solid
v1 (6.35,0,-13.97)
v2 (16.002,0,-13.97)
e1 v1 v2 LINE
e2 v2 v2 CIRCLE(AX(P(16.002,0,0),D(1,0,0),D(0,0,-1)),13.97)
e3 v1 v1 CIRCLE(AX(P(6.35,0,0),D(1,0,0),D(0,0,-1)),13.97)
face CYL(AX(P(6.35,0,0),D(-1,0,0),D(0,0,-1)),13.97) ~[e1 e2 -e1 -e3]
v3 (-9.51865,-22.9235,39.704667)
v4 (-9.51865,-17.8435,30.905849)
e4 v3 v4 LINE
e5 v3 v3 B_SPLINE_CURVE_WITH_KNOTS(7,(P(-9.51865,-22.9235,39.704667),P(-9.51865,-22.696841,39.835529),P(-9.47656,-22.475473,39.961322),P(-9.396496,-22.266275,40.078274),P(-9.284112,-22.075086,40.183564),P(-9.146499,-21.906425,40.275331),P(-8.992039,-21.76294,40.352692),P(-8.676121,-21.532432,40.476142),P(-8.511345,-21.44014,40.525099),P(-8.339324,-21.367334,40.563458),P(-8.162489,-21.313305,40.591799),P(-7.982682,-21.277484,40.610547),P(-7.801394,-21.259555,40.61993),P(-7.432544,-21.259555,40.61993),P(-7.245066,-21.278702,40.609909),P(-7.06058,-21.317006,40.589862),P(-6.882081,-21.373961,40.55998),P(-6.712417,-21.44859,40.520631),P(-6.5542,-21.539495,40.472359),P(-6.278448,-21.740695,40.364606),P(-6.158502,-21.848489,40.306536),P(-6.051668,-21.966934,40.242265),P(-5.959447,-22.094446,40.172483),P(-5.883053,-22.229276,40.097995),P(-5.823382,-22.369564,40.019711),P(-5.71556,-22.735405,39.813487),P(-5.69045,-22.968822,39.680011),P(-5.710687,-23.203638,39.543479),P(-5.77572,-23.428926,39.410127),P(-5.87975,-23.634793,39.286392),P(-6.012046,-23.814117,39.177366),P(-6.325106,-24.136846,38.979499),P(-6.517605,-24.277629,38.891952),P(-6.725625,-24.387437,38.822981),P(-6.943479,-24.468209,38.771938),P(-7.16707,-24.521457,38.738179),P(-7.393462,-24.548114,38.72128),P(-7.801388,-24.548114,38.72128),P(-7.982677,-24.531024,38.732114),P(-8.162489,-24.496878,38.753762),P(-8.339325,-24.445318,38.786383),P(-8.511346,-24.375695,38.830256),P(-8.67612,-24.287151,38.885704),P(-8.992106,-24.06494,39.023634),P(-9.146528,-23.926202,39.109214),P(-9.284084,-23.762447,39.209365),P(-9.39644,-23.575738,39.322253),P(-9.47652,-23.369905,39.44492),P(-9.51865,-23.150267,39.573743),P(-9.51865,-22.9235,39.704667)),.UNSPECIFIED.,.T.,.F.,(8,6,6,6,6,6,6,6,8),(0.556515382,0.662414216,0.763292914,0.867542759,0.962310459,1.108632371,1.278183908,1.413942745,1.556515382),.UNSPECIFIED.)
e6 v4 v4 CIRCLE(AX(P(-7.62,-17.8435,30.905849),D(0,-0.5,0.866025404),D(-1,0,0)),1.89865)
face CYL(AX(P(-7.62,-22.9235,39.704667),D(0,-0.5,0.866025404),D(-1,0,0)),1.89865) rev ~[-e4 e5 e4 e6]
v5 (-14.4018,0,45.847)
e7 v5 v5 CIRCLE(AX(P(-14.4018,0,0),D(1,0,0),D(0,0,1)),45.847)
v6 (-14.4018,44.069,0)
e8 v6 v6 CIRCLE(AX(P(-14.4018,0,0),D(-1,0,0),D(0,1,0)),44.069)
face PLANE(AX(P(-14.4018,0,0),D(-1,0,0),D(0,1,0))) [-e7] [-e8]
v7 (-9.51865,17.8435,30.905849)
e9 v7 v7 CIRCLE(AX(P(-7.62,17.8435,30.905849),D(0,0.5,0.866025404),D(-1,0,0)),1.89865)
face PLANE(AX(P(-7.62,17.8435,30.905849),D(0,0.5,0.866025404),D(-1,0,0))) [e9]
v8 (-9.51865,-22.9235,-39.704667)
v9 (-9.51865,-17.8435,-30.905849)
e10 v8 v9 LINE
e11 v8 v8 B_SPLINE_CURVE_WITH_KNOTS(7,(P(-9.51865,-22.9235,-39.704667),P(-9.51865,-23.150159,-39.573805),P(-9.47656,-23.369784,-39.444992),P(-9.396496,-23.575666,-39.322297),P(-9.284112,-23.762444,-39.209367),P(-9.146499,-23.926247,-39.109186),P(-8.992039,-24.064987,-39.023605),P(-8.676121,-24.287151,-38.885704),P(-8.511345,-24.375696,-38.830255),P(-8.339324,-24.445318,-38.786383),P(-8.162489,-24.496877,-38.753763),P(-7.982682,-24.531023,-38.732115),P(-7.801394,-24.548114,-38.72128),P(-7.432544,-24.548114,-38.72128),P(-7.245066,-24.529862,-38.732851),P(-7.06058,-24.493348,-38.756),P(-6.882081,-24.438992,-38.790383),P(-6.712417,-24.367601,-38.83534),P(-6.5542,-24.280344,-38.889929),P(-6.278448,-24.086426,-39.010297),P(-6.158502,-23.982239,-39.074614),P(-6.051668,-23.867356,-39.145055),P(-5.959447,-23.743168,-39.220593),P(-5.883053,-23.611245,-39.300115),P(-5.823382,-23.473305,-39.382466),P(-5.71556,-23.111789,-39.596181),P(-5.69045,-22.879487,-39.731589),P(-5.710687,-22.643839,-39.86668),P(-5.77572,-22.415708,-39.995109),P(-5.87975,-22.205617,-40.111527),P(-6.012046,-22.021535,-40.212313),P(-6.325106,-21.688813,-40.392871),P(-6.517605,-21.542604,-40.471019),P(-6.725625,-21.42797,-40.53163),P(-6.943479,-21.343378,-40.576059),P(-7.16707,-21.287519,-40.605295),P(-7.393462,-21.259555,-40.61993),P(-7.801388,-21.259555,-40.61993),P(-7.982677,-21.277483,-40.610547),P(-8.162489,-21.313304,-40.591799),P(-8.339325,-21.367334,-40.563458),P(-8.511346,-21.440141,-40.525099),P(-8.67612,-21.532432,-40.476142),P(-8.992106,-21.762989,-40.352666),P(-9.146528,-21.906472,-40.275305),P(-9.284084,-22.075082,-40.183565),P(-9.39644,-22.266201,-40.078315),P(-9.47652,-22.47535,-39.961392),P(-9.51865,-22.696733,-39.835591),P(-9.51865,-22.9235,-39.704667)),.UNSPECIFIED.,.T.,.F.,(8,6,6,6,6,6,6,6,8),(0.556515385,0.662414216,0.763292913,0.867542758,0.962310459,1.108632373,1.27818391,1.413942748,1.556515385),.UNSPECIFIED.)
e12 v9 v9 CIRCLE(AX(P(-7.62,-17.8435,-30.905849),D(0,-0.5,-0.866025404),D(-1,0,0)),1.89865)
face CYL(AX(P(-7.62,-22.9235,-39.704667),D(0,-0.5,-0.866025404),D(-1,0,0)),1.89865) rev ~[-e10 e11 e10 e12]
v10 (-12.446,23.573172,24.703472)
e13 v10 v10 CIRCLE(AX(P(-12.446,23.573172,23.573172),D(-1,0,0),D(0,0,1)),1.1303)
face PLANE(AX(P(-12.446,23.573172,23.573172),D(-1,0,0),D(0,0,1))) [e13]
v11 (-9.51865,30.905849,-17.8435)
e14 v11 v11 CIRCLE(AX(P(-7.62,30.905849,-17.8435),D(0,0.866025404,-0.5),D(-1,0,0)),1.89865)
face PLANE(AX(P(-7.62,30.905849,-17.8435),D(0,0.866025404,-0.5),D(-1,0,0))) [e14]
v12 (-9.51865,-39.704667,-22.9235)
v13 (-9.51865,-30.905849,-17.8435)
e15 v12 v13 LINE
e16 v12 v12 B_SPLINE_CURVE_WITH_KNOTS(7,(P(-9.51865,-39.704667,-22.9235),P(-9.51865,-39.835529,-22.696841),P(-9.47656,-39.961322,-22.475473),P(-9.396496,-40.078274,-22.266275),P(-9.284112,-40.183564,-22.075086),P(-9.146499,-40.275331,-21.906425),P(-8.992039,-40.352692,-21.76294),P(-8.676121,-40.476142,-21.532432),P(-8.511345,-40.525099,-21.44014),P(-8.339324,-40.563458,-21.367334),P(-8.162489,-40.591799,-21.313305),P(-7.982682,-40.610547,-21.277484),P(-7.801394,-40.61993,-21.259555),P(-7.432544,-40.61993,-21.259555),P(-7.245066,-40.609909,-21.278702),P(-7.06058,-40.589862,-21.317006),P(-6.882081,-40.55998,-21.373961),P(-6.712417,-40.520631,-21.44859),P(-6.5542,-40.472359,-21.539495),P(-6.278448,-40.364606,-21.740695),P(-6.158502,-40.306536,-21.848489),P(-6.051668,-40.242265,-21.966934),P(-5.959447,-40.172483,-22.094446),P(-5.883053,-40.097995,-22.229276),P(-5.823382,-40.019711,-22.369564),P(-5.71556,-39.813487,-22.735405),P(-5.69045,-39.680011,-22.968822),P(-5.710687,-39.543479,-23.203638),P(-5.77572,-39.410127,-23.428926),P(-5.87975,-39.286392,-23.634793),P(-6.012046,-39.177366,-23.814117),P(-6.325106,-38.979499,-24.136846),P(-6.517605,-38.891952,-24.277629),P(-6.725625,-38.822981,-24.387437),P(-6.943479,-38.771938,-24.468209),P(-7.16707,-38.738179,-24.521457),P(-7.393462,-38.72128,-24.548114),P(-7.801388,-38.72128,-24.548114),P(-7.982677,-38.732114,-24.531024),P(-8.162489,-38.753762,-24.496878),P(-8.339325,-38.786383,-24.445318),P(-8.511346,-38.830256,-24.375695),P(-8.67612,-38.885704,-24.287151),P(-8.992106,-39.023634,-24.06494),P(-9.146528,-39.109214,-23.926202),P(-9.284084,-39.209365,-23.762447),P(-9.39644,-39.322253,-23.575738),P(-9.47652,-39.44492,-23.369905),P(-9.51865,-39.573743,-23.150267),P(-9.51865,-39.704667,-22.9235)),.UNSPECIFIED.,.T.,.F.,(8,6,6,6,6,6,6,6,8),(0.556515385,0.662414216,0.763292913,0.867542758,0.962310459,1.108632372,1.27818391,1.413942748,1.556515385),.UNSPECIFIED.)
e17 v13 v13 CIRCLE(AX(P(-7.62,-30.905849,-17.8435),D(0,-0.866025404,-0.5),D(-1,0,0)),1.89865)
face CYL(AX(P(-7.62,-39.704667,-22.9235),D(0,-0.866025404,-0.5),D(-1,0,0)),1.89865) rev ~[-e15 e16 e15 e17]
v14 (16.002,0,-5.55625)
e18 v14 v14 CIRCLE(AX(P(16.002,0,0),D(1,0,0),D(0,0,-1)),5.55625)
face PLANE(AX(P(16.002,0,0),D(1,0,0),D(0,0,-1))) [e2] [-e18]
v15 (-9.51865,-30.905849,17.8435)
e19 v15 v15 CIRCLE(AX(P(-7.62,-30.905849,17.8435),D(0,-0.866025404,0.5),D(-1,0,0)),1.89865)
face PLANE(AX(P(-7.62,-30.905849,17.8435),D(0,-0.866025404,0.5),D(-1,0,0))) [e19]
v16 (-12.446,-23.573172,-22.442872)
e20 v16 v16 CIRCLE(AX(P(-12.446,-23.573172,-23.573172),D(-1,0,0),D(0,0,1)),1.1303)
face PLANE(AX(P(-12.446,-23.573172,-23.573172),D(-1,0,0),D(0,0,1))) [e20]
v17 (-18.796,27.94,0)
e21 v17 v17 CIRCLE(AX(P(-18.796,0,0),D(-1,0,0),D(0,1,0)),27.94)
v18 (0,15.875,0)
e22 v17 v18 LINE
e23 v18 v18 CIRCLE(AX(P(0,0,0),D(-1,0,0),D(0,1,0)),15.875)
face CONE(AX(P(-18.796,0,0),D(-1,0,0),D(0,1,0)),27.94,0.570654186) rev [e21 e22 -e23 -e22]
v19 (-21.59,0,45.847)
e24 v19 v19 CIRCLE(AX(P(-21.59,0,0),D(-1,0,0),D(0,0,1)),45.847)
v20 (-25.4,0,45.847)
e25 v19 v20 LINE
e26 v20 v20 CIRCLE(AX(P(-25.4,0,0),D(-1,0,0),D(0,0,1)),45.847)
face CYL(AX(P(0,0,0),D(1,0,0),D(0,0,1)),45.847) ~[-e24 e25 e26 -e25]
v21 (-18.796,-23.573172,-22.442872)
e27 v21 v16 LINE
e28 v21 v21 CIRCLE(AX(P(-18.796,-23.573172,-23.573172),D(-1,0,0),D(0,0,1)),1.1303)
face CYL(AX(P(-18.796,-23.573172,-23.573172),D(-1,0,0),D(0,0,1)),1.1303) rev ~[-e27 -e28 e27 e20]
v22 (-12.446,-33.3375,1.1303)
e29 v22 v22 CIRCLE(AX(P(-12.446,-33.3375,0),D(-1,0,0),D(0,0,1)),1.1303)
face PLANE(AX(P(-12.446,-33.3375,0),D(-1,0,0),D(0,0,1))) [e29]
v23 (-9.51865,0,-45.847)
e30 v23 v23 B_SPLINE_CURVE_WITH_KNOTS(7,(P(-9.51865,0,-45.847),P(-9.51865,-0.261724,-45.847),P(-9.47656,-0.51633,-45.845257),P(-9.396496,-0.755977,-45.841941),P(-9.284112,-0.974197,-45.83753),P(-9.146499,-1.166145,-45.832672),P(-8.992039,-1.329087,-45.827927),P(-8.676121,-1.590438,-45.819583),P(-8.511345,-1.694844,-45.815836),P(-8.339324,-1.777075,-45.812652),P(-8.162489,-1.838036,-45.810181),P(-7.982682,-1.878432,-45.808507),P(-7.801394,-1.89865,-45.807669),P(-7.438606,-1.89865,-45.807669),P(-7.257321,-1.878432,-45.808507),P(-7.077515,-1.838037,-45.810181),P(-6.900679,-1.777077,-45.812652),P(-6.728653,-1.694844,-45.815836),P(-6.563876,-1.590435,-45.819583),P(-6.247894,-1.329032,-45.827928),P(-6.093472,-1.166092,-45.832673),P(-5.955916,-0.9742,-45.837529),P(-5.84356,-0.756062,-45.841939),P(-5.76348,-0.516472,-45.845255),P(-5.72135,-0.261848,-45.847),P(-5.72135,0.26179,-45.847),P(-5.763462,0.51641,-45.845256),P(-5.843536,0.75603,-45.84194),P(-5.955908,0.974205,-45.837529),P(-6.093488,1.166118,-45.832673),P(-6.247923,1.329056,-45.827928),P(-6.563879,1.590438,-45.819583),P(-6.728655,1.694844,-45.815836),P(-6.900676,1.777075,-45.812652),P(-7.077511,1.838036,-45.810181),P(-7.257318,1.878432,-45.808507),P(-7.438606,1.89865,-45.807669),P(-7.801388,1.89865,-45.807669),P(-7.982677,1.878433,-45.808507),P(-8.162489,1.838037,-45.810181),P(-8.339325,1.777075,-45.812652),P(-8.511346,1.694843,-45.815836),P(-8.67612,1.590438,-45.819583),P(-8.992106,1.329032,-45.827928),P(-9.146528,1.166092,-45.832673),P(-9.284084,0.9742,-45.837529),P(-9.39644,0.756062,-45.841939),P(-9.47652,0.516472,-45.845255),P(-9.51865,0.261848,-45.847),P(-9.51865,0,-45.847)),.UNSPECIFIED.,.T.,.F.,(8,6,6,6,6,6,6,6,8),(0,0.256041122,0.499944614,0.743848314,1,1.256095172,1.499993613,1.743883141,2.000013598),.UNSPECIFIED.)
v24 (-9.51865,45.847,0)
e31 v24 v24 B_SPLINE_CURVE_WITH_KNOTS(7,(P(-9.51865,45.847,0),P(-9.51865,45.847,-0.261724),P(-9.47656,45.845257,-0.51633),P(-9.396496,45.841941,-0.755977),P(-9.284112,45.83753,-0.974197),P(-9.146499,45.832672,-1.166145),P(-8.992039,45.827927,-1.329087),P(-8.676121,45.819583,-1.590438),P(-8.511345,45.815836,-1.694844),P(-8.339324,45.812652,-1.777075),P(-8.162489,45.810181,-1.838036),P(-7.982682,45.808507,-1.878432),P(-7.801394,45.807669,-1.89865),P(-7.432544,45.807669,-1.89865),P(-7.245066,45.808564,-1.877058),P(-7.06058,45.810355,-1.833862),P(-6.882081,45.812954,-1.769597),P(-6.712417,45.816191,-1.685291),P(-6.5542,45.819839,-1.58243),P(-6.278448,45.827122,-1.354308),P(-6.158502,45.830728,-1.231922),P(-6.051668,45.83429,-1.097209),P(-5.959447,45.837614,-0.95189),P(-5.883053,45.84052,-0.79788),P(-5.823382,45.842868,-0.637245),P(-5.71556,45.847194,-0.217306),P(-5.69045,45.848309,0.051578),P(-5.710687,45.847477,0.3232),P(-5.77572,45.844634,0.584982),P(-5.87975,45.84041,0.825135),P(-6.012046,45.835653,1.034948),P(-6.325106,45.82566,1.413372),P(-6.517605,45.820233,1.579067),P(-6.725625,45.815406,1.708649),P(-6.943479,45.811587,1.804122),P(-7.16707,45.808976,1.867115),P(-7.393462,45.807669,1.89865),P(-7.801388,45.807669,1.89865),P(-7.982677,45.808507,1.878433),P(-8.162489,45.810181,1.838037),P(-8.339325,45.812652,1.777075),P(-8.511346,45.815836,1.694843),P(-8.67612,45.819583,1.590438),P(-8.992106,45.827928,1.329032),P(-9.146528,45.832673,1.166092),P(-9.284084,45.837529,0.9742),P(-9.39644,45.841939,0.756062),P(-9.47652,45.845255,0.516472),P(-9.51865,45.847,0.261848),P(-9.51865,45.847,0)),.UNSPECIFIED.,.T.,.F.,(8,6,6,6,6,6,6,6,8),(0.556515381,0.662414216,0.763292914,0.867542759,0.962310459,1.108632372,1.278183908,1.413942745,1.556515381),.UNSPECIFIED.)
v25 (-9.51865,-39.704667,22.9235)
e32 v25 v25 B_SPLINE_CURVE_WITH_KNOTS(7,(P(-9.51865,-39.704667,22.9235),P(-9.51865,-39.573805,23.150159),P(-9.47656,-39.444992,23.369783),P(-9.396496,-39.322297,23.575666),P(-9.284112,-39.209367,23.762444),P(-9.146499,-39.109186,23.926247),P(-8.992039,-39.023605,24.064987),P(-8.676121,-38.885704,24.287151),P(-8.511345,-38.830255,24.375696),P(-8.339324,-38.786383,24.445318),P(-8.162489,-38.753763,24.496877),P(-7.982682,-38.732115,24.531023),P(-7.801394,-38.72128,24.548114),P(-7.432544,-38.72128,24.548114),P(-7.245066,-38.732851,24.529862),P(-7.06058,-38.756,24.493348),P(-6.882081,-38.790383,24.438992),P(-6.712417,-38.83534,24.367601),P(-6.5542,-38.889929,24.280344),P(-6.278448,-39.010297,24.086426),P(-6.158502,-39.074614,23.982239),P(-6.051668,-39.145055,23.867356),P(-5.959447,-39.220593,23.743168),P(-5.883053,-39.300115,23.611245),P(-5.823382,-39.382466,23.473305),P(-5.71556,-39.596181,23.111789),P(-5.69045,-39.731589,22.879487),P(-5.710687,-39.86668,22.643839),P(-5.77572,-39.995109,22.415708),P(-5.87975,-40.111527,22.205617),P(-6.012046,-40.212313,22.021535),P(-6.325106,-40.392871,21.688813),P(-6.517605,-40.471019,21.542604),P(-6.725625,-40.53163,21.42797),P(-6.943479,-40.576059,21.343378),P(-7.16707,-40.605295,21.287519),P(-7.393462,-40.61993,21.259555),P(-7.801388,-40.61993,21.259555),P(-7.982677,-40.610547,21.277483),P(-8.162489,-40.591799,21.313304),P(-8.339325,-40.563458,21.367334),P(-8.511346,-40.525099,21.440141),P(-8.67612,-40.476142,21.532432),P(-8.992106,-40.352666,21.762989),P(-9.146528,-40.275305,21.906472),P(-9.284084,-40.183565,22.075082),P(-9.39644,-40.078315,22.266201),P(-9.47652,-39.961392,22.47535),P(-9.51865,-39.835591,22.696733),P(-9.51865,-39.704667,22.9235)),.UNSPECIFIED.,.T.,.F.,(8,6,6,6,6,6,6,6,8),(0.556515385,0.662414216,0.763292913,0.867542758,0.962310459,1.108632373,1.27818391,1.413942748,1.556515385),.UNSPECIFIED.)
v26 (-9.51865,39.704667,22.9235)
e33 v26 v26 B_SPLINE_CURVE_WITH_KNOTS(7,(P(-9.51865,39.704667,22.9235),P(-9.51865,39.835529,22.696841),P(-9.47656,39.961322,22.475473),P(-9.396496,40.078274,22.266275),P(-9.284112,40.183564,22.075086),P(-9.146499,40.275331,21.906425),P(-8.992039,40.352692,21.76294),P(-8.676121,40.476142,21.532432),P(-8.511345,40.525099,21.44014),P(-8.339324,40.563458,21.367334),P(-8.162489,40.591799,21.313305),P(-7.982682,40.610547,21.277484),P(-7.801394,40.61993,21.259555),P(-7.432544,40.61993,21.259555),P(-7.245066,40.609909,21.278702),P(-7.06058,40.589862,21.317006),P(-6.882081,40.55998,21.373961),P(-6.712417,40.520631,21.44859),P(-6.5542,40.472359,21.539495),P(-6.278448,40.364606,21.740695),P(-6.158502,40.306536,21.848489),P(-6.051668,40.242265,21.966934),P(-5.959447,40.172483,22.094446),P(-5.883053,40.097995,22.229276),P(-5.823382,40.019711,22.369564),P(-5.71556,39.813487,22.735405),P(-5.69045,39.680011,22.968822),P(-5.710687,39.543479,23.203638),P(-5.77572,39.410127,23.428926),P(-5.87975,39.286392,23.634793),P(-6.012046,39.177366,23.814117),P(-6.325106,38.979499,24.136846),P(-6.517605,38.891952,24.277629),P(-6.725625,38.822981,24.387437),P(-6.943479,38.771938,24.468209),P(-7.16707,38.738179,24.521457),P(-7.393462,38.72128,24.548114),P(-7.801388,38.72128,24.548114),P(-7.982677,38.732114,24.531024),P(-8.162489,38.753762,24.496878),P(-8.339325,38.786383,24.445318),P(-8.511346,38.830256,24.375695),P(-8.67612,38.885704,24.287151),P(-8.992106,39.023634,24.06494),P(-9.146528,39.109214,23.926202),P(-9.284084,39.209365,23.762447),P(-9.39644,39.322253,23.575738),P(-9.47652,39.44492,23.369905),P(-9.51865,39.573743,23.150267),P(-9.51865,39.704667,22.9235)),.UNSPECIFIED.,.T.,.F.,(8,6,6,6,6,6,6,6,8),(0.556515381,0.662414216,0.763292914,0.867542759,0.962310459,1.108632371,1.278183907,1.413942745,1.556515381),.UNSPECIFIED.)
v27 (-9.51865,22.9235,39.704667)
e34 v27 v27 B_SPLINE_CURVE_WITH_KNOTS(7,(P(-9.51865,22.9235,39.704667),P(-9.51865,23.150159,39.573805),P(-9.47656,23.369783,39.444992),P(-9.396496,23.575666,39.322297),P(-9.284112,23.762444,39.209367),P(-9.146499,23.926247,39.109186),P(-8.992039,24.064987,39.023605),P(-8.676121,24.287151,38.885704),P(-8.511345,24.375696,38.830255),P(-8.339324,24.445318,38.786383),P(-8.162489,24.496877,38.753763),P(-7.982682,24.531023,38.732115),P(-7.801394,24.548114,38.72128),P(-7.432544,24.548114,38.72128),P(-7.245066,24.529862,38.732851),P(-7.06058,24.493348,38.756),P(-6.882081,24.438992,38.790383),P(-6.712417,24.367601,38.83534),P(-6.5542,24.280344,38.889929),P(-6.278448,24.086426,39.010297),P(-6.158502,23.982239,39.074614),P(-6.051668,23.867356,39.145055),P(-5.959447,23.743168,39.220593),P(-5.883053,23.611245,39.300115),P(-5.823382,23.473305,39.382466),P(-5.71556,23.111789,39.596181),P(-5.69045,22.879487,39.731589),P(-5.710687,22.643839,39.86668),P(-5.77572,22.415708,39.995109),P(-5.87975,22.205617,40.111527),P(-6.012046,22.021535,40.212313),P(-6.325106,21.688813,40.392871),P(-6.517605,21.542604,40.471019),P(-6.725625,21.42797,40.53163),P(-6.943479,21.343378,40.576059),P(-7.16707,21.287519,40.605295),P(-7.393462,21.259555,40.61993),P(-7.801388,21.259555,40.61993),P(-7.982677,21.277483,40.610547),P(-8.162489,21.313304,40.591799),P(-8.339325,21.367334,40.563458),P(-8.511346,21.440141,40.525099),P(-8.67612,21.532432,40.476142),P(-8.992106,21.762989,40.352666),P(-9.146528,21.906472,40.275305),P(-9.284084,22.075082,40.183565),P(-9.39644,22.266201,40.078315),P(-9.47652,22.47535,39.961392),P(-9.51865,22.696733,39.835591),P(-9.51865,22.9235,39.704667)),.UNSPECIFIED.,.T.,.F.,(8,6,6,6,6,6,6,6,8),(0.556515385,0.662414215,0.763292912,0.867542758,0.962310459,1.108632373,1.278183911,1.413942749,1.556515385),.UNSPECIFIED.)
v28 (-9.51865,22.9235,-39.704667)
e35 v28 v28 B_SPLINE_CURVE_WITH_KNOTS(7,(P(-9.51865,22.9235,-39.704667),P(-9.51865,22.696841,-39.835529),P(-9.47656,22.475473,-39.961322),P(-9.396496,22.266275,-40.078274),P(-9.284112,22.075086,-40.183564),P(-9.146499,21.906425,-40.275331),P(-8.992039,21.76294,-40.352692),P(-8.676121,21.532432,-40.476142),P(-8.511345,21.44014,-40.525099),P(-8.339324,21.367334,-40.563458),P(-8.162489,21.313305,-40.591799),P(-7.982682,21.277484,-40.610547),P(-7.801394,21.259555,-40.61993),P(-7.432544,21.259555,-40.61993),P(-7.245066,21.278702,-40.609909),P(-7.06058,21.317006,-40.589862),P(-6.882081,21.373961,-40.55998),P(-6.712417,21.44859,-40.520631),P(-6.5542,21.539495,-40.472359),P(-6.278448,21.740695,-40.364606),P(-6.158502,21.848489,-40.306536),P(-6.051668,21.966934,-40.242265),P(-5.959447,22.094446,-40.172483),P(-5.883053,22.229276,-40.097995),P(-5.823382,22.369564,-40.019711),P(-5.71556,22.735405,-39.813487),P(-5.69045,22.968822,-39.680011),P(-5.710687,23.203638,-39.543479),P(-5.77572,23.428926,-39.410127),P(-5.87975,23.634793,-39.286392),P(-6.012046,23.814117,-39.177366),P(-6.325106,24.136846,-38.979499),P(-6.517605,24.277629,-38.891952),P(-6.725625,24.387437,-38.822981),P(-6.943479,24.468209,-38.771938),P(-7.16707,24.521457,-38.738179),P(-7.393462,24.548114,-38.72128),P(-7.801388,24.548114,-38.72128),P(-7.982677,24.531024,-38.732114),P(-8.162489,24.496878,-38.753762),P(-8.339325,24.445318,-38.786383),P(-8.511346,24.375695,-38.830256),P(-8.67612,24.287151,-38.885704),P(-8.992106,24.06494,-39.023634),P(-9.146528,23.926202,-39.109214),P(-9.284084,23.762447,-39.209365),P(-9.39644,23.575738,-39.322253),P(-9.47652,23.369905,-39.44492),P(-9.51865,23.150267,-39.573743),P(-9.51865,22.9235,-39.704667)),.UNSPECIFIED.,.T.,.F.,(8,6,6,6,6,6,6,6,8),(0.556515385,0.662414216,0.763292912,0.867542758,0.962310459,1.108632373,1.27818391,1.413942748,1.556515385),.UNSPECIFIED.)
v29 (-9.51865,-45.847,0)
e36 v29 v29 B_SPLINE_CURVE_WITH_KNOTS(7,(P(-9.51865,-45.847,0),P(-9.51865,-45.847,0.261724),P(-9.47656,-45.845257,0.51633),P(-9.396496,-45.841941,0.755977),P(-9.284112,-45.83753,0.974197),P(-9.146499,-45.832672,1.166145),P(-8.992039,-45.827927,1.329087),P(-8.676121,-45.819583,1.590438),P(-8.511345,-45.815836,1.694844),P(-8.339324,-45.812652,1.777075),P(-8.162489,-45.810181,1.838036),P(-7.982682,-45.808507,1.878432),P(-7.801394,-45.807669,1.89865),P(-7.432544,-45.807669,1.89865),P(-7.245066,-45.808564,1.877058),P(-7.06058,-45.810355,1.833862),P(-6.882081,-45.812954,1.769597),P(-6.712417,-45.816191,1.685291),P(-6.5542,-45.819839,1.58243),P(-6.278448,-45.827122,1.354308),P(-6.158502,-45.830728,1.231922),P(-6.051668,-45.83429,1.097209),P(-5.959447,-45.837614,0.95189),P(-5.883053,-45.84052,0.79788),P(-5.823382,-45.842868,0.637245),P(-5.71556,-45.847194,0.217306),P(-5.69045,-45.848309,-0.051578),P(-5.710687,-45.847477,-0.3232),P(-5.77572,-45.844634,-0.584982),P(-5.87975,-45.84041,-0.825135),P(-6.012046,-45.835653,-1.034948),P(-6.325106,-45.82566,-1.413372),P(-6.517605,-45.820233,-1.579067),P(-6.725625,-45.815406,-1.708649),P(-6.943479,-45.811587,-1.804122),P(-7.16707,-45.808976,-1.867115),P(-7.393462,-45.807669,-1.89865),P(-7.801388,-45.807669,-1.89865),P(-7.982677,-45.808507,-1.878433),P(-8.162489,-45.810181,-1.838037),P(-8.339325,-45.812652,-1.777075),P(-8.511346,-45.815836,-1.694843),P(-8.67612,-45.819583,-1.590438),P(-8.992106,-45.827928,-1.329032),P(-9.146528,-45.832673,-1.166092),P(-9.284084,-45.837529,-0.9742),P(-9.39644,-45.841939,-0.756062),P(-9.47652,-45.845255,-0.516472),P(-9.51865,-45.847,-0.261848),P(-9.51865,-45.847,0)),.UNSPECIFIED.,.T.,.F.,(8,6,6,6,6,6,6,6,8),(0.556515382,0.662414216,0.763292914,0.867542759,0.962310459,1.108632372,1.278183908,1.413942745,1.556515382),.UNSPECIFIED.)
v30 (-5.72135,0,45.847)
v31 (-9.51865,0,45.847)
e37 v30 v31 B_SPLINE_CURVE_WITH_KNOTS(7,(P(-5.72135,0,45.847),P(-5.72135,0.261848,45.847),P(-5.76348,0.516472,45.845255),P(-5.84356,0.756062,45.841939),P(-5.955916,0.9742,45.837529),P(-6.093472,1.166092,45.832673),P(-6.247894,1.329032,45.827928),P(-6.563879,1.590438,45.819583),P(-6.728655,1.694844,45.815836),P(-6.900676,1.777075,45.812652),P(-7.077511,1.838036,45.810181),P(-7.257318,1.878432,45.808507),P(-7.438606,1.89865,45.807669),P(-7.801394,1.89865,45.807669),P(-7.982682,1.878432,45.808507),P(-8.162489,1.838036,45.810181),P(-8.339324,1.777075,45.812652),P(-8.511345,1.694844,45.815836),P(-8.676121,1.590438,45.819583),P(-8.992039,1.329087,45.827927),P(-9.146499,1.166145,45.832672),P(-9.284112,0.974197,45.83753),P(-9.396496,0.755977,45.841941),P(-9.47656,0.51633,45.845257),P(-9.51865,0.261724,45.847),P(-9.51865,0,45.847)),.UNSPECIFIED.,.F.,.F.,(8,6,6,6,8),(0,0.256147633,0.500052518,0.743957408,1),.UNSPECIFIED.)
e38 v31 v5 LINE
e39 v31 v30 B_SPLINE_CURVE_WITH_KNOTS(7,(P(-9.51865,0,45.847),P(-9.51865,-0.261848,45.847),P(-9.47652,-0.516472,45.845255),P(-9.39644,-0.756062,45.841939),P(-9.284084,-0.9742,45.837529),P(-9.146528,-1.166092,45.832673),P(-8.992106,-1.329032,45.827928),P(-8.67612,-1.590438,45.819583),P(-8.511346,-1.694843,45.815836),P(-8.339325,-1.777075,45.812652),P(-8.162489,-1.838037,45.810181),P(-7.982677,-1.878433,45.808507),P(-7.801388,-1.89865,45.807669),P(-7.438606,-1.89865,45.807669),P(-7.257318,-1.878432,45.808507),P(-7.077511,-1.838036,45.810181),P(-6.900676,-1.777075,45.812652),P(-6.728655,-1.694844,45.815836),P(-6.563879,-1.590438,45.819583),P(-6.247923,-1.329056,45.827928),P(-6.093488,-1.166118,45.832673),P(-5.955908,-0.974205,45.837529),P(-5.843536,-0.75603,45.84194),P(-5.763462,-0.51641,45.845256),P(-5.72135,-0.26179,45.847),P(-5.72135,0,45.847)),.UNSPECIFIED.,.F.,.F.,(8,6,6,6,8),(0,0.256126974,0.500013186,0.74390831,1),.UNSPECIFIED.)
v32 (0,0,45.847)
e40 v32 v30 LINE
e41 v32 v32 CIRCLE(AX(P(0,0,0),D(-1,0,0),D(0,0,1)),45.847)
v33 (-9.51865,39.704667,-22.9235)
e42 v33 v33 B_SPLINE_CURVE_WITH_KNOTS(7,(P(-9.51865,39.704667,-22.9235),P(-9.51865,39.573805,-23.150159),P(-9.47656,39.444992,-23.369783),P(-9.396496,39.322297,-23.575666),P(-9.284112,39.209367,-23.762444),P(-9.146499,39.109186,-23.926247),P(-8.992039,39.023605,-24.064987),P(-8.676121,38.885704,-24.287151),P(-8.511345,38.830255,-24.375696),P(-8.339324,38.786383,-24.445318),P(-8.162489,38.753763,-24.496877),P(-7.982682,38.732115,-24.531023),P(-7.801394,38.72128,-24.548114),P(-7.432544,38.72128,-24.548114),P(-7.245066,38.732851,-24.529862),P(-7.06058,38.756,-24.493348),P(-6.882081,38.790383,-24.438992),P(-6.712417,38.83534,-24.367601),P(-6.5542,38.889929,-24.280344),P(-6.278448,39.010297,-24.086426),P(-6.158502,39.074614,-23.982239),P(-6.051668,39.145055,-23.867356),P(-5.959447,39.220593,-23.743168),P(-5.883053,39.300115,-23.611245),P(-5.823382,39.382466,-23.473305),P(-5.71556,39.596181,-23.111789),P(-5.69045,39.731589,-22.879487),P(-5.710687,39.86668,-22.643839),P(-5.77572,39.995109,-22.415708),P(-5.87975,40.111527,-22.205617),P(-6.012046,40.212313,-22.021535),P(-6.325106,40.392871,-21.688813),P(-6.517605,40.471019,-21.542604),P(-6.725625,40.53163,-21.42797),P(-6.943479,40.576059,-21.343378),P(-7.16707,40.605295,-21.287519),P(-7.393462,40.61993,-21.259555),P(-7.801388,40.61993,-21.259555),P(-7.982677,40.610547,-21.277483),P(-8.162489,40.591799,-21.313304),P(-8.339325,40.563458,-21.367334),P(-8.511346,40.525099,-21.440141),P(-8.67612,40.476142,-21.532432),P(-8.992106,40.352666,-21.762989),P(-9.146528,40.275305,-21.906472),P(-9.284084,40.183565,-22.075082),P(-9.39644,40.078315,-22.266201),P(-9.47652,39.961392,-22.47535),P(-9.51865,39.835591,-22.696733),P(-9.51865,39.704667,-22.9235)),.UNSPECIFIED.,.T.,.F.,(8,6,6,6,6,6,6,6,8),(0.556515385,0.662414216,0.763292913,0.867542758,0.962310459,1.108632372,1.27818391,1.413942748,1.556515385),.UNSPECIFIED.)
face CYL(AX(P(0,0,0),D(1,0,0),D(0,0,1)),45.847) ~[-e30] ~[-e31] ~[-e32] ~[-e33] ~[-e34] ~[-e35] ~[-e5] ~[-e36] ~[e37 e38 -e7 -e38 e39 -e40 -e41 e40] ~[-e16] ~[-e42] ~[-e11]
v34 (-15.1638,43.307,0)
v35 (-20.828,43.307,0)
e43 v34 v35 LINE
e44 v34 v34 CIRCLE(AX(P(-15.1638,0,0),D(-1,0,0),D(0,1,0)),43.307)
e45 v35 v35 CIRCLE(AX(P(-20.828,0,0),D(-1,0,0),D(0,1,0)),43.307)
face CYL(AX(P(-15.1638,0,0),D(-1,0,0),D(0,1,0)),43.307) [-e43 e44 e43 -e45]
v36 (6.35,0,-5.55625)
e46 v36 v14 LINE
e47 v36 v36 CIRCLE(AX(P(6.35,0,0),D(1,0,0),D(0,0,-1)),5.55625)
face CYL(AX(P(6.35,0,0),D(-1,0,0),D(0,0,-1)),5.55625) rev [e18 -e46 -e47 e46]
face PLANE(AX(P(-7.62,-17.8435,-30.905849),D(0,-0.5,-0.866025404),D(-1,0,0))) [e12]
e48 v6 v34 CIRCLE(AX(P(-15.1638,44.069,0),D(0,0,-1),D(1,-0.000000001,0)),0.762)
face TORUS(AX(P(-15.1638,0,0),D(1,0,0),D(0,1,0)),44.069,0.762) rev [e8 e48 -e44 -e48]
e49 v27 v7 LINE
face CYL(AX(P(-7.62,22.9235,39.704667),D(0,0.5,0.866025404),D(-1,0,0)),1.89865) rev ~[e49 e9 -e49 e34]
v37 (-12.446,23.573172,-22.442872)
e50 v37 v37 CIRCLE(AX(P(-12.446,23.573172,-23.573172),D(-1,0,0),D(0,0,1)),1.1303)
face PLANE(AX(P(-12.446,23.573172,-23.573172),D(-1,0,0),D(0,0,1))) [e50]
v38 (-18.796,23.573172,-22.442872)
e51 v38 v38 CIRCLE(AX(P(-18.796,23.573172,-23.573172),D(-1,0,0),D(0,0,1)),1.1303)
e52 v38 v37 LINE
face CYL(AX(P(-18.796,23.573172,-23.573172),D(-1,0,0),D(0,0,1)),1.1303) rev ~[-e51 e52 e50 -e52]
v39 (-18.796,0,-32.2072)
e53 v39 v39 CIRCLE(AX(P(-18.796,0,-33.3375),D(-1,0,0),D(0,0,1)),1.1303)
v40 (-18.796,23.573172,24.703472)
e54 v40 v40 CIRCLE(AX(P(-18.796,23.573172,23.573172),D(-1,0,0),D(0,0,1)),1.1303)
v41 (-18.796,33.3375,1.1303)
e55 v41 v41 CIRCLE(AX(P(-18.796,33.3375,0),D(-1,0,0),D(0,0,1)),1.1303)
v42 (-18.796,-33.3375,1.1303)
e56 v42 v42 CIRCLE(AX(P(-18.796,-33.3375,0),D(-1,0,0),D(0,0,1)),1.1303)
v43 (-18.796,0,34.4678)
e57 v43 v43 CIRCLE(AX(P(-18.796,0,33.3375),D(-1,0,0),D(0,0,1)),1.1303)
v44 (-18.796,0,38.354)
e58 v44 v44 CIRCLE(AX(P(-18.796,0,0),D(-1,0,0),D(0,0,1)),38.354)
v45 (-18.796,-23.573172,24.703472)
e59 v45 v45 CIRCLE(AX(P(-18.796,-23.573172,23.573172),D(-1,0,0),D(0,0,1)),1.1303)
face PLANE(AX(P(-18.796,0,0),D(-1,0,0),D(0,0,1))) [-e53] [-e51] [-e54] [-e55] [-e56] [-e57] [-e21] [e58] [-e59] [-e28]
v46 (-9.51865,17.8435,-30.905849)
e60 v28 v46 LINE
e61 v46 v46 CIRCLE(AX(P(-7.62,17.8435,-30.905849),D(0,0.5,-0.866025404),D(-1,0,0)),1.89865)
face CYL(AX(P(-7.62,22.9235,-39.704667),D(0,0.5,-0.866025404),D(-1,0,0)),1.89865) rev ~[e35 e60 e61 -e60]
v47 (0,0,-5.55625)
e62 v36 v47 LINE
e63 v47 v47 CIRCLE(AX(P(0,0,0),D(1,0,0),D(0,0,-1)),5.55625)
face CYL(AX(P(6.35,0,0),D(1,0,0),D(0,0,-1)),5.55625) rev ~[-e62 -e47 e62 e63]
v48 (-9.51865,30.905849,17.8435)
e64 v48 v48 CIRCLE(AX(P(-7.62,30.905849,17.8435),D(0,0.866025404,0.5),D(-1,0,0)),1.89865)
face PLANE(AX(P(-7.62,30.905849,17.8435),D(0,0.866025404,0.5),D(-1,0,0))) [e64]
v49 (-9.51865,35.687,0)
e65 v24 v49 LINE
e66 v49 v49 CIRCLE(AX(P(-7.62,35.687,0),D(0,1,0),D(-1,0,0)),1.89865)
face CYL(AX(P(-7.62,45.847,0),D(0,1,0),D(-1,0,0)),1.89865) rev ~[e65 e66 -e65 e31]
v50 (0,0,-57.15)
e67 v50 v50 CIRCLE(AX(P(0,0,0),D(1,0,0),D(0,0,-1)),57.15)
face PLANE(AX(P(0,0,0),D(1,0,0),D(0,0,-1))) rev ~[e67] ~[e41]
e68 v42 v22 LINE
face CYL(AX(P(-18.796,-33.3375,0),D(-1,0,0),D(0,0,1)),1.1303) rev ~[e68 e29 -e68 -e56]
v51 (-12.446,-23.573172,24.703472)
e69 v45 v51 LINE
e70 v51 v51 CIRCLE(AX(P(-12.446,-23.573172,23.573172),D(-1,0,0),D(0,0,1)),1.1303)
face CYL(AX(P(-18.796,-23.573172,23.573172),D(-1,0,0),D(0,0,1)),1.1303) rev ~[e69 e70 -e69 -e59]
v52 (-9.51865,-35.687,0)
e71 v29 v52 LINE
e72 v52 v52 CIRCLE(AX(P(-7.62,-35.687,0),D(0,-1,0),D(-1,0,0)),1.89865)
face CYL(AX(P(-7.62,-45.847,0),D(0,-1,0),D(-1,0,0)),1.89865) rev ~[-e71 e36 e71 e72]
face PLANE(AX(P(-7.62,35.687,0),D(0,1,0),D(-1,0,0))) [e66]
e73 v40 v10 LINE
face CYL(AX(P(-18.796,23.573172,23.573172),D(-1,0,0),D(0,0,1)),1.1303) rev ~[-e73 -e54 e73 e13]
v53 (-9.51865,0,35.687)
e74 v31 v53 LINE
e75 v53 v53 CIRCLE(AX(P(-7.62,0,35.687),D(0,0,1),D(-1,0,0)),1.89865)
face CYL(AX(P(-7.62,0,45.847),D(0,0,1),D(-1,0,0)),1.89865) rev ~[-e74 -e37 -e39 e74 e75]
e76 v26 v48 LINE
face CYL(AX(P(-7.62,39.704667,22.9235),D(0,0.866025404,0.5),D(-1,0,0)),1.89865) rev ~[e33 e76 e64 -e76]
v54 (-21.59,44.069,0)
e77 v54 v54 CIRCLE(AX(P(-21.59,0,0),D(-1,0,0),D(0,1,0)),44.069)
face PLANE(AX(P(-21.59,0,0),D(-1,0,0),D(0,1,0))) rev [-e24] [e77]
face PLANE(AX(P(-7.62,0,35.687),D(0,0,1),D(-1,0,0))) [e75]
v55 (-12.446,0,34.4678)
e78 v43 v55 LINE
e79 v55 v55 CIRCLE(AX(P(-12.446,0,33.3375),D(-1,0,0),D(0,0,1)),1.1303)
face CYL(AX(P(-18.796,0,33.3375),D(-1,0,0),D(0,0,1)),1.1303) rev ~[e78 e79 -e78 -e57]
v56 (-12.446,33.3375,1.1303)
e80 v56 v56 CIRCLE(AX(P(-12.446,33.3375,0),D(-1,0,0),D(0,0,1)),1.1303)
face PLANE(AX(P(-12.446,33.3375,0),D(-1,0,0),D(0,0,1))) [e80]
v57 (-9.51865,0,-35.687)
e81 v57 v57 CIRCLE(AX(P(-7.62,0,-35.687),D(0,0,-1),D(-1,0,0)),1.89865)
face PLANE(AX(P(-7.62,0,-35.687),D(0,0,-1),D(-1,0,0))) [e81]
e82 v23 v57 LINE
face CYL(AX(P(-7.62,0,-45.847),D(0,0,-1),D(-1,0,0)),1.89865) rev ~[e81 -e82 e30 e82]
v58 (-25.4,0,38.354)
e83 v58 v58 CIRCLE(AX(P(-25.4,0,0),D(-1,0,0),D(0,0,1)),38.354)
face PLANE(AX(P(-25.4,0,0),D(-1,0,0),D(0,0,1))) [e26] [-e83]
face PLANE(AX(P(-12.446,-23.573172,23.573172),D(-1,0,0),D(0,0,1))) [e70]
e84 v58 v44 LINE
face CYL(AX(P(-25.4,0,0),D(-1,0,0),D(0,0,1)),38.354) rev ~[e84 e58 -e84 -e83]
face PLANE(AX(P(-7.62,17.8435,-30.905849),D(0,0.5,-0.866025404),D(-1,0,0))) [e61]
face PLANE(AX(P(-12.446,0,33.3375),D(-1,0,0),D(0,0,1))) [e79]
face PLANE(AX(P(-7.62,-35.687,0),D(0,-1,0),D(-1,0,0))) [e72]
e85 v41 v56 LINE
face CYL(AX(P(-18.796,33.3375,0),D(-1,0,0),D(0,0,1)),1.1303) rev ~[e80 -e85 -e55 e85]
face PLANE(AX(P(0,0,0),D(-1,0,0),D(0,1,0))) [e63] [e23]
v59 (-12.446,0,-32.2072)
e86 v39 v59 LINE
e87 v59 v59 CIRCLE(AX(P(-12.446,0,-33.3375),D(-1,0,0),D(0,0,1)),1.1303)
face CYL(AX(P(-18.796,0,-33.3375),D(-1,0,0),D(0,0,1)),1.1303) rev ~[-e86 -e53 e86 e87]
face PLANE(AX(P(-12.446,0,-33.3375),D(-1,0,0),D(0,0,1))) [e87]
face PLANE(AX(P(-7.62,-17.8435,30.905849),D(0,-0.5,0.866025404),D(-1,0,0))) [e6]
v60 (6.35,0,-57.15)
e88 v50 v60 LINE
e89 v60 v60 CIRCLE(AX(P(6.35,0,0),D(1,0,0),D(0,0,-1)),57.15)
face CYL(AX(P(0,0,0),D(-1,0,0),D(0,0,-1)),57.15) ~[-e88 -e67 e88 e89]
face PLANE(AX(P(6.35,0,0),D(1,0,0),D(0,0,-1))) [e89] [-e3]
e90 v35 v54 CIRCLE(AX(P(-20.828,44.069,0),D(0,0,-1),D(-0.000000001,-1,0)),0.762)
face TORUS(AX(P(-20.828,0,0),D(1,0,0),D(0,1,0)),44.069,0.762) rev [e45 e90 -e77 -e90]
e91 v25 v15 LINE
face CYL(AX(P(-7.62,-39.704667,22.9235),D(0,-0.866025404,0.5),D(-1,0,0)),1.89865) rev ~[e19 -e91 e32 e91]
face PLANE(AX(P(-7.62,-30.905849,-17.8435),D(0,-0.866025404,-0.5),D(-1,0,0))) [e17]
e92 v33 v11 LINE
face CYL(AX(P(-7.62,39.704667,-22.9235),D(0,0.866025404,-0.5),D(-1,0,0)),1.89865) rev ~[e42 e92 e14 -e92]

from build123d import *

# Parameters (mm, degrees)
SKETCH1_R               = 57.15
BOSS_EXTRUDE1_DEPTH     = 6.35
SKETCH2_R               = 45.847
BOSS_EXTRUDE2_DEPTH     = 25.4
SKETCH11_R              = 1.89865
CUT_EXTRUDE3_DEPTH      = 10.16
CIRPATTERN1_COUNT       = 12
SKETCH15_R              = 5.55625
CUT_EXTRUDE4_DEPTH      = 1
CUT_EXTRUDE4_DEPTH_BACK = 32.7500001
SKETCH17_R              = 13.97
SKETCH17_R_2            = 5.55625
BOSS_EXTRUDE3_DEPTH     = 9.652
SKETCH18_R              = 38.354
CUT_EXTRUDE5_DEPTH      = 6.604
SKETCH19_R              = 1.1303
CUT_EXTRUDE6_DEPTH      = 6.35


with BuildPart() as part:
    # Sketch1 → Boss-Extrude1 (new body)
    with BuildSketch(Plane(origin=(0, 0, 0), x_dir=(0, 0, -1), z_dir=(1, 0, 0))):
        Circle(SKETCH1_R)
    extrude(amount=BOSS_EXTRUDE1_DEPTH)

    # Sketch2 → Boss-Extrude2 (add)
    with BuildSketch(Plane.ZY):
        Circle(SKETCH2_R)
    extrude(amount=BOSS_EXTRUDE2_DEPTH)

    # Sketch11 → Cut-Extrude3 (cut)
    with BuildSketch(Plane(origin=(0, 0, -45.847), x_dir=(-1, 0, 0), z_dir=(0, 0, -1))):
        with Locations((7.62, 0)):
            Circle(SKETCH11_R)
    cut_extrude3 = extrude(amount=-CUT_EXTRUDE3_DEPTH, mode=Mode.SUBTRACT)

    # CirPattern1: Cut-Extrude3 ×12 about axis
    cirpattern1_axis = Axis((0, 0, 0), (1, 0, 0))
    for i in range(1, CIRPATTERN1_COUNT):
        add(cut_extrude3.rotate(cirpattern1_axis, i * 360 / CIRPATTERN1_COUNT), mode=Mode.SUBTRACT)

    # Sketch15 → Cut-Extrude4 (cut, two sides)
    with BuildSketch(Plane(origin=(6.35, 0, 0), x_dir=(0, 0, -1), z_dir=(1, 0, 0))) as cut_extrude4_sk:
        Circle(SKETCH15_R)
    extrude(amount=CUT_EXTRUDE4_DEPTH, mode=Mode.SUBTRACT)
    extrude(cut_extrude4_sk.sketch, amount=-CUT_EXTRUDE4_DEPTH_BACK, mode=Mode.SUBTRACT)

    # Sketch16 → Cut-Revolve1 (revolve, cut)
    with BuildSketch(Plane.XY):
        with BuildLine():
            Line((-21.59, 45.847), (-14.4018, 45.847))
            Line((-14.4018, 45.847), (-14.4018, 44.069))
            ThreePointArc((-14.4018, 44.069), (-14.624984633, 43.530184633), (-15.1638, 43.307))
            Line((-15.1638, 43.307), (-20.828, 43.307))
            ThreePointArc((-20.828, 43.307), (-21.366815367, 43.530184633), (-21.59, 44.069))
            Line((-21.59, 44.069), (-21.59, 45.847))
        make_face()
    revolve(axis=Axis((0, 0, 0), (-1, 0, 0)), mode=Mode.SUBTRACT)

    # Sketch17 → Boss-Extrude3 (add)
    with BuildSketch(Plane(origin=(6.35, 0, 0), x_dir=(0, 0, -1), z_dir=(1, 0, 0))):
        Circle(SKETCH17_R)
        Circle(SKETCH17_R_2, mode=Mode.SUBTRACT)
    extrude(amount=BOSS_EXTRUDE3_DEPTH)

    # Sketch18 → Cut-Extrude5 (cut)
    with BuildSketch(Plane.ZY.offset(25.4)):
        Circle(SKETCH18_R)
    extrude(amount=-CUT_EXTRUDE5_DEPTH, mode=Mode.SUBTRACT)

    # Sketch19 → Cut-Extrude6 (cut)
    with BuildSketch(Plane.ZY.offset(18.796)):
        with Locations((0, 33.3375)):
            Circle(SKETCH19_R)
        with Locations((23.573172318, 23.573172318)):
            Circle(SKETCH19_R)
        with Locations((33.3375, 0)):
            Circle(SKETCH19_R)
        with Locations((23.573172318, -23.573172318)):
            Circle(SKETCH19_R)
        with Locations((0, -33.3375)):
            Circle(SKETCH19_R)
        with Locations((-23.573172318, -23.573172318)):
            Circle(SKETCH19_R)
        with Locations((-33.3375, 0)):
            Circle(SKETCH19_R)
        with Locations((-23.573172318, 23.573172318)):
            Circle(SKETCH19_R)
    extrude(amount=-CUT_EXTRUDE6_DEPTH, mode=Mode.SUBTRACT)

    # Sketch20 → Cut-Revolve2 (revolve, cut)
    with BuildSketch(Plane.XY):
        Polygon((0, 0), (-18.796, 0), (-18.796, 27.94), (0, 15.875), align=None)
    revolve(axis=Axis((0, 0, 0), (-1, 0, 0)), mode=Mode.SUBTRACT)


solid = part.part
